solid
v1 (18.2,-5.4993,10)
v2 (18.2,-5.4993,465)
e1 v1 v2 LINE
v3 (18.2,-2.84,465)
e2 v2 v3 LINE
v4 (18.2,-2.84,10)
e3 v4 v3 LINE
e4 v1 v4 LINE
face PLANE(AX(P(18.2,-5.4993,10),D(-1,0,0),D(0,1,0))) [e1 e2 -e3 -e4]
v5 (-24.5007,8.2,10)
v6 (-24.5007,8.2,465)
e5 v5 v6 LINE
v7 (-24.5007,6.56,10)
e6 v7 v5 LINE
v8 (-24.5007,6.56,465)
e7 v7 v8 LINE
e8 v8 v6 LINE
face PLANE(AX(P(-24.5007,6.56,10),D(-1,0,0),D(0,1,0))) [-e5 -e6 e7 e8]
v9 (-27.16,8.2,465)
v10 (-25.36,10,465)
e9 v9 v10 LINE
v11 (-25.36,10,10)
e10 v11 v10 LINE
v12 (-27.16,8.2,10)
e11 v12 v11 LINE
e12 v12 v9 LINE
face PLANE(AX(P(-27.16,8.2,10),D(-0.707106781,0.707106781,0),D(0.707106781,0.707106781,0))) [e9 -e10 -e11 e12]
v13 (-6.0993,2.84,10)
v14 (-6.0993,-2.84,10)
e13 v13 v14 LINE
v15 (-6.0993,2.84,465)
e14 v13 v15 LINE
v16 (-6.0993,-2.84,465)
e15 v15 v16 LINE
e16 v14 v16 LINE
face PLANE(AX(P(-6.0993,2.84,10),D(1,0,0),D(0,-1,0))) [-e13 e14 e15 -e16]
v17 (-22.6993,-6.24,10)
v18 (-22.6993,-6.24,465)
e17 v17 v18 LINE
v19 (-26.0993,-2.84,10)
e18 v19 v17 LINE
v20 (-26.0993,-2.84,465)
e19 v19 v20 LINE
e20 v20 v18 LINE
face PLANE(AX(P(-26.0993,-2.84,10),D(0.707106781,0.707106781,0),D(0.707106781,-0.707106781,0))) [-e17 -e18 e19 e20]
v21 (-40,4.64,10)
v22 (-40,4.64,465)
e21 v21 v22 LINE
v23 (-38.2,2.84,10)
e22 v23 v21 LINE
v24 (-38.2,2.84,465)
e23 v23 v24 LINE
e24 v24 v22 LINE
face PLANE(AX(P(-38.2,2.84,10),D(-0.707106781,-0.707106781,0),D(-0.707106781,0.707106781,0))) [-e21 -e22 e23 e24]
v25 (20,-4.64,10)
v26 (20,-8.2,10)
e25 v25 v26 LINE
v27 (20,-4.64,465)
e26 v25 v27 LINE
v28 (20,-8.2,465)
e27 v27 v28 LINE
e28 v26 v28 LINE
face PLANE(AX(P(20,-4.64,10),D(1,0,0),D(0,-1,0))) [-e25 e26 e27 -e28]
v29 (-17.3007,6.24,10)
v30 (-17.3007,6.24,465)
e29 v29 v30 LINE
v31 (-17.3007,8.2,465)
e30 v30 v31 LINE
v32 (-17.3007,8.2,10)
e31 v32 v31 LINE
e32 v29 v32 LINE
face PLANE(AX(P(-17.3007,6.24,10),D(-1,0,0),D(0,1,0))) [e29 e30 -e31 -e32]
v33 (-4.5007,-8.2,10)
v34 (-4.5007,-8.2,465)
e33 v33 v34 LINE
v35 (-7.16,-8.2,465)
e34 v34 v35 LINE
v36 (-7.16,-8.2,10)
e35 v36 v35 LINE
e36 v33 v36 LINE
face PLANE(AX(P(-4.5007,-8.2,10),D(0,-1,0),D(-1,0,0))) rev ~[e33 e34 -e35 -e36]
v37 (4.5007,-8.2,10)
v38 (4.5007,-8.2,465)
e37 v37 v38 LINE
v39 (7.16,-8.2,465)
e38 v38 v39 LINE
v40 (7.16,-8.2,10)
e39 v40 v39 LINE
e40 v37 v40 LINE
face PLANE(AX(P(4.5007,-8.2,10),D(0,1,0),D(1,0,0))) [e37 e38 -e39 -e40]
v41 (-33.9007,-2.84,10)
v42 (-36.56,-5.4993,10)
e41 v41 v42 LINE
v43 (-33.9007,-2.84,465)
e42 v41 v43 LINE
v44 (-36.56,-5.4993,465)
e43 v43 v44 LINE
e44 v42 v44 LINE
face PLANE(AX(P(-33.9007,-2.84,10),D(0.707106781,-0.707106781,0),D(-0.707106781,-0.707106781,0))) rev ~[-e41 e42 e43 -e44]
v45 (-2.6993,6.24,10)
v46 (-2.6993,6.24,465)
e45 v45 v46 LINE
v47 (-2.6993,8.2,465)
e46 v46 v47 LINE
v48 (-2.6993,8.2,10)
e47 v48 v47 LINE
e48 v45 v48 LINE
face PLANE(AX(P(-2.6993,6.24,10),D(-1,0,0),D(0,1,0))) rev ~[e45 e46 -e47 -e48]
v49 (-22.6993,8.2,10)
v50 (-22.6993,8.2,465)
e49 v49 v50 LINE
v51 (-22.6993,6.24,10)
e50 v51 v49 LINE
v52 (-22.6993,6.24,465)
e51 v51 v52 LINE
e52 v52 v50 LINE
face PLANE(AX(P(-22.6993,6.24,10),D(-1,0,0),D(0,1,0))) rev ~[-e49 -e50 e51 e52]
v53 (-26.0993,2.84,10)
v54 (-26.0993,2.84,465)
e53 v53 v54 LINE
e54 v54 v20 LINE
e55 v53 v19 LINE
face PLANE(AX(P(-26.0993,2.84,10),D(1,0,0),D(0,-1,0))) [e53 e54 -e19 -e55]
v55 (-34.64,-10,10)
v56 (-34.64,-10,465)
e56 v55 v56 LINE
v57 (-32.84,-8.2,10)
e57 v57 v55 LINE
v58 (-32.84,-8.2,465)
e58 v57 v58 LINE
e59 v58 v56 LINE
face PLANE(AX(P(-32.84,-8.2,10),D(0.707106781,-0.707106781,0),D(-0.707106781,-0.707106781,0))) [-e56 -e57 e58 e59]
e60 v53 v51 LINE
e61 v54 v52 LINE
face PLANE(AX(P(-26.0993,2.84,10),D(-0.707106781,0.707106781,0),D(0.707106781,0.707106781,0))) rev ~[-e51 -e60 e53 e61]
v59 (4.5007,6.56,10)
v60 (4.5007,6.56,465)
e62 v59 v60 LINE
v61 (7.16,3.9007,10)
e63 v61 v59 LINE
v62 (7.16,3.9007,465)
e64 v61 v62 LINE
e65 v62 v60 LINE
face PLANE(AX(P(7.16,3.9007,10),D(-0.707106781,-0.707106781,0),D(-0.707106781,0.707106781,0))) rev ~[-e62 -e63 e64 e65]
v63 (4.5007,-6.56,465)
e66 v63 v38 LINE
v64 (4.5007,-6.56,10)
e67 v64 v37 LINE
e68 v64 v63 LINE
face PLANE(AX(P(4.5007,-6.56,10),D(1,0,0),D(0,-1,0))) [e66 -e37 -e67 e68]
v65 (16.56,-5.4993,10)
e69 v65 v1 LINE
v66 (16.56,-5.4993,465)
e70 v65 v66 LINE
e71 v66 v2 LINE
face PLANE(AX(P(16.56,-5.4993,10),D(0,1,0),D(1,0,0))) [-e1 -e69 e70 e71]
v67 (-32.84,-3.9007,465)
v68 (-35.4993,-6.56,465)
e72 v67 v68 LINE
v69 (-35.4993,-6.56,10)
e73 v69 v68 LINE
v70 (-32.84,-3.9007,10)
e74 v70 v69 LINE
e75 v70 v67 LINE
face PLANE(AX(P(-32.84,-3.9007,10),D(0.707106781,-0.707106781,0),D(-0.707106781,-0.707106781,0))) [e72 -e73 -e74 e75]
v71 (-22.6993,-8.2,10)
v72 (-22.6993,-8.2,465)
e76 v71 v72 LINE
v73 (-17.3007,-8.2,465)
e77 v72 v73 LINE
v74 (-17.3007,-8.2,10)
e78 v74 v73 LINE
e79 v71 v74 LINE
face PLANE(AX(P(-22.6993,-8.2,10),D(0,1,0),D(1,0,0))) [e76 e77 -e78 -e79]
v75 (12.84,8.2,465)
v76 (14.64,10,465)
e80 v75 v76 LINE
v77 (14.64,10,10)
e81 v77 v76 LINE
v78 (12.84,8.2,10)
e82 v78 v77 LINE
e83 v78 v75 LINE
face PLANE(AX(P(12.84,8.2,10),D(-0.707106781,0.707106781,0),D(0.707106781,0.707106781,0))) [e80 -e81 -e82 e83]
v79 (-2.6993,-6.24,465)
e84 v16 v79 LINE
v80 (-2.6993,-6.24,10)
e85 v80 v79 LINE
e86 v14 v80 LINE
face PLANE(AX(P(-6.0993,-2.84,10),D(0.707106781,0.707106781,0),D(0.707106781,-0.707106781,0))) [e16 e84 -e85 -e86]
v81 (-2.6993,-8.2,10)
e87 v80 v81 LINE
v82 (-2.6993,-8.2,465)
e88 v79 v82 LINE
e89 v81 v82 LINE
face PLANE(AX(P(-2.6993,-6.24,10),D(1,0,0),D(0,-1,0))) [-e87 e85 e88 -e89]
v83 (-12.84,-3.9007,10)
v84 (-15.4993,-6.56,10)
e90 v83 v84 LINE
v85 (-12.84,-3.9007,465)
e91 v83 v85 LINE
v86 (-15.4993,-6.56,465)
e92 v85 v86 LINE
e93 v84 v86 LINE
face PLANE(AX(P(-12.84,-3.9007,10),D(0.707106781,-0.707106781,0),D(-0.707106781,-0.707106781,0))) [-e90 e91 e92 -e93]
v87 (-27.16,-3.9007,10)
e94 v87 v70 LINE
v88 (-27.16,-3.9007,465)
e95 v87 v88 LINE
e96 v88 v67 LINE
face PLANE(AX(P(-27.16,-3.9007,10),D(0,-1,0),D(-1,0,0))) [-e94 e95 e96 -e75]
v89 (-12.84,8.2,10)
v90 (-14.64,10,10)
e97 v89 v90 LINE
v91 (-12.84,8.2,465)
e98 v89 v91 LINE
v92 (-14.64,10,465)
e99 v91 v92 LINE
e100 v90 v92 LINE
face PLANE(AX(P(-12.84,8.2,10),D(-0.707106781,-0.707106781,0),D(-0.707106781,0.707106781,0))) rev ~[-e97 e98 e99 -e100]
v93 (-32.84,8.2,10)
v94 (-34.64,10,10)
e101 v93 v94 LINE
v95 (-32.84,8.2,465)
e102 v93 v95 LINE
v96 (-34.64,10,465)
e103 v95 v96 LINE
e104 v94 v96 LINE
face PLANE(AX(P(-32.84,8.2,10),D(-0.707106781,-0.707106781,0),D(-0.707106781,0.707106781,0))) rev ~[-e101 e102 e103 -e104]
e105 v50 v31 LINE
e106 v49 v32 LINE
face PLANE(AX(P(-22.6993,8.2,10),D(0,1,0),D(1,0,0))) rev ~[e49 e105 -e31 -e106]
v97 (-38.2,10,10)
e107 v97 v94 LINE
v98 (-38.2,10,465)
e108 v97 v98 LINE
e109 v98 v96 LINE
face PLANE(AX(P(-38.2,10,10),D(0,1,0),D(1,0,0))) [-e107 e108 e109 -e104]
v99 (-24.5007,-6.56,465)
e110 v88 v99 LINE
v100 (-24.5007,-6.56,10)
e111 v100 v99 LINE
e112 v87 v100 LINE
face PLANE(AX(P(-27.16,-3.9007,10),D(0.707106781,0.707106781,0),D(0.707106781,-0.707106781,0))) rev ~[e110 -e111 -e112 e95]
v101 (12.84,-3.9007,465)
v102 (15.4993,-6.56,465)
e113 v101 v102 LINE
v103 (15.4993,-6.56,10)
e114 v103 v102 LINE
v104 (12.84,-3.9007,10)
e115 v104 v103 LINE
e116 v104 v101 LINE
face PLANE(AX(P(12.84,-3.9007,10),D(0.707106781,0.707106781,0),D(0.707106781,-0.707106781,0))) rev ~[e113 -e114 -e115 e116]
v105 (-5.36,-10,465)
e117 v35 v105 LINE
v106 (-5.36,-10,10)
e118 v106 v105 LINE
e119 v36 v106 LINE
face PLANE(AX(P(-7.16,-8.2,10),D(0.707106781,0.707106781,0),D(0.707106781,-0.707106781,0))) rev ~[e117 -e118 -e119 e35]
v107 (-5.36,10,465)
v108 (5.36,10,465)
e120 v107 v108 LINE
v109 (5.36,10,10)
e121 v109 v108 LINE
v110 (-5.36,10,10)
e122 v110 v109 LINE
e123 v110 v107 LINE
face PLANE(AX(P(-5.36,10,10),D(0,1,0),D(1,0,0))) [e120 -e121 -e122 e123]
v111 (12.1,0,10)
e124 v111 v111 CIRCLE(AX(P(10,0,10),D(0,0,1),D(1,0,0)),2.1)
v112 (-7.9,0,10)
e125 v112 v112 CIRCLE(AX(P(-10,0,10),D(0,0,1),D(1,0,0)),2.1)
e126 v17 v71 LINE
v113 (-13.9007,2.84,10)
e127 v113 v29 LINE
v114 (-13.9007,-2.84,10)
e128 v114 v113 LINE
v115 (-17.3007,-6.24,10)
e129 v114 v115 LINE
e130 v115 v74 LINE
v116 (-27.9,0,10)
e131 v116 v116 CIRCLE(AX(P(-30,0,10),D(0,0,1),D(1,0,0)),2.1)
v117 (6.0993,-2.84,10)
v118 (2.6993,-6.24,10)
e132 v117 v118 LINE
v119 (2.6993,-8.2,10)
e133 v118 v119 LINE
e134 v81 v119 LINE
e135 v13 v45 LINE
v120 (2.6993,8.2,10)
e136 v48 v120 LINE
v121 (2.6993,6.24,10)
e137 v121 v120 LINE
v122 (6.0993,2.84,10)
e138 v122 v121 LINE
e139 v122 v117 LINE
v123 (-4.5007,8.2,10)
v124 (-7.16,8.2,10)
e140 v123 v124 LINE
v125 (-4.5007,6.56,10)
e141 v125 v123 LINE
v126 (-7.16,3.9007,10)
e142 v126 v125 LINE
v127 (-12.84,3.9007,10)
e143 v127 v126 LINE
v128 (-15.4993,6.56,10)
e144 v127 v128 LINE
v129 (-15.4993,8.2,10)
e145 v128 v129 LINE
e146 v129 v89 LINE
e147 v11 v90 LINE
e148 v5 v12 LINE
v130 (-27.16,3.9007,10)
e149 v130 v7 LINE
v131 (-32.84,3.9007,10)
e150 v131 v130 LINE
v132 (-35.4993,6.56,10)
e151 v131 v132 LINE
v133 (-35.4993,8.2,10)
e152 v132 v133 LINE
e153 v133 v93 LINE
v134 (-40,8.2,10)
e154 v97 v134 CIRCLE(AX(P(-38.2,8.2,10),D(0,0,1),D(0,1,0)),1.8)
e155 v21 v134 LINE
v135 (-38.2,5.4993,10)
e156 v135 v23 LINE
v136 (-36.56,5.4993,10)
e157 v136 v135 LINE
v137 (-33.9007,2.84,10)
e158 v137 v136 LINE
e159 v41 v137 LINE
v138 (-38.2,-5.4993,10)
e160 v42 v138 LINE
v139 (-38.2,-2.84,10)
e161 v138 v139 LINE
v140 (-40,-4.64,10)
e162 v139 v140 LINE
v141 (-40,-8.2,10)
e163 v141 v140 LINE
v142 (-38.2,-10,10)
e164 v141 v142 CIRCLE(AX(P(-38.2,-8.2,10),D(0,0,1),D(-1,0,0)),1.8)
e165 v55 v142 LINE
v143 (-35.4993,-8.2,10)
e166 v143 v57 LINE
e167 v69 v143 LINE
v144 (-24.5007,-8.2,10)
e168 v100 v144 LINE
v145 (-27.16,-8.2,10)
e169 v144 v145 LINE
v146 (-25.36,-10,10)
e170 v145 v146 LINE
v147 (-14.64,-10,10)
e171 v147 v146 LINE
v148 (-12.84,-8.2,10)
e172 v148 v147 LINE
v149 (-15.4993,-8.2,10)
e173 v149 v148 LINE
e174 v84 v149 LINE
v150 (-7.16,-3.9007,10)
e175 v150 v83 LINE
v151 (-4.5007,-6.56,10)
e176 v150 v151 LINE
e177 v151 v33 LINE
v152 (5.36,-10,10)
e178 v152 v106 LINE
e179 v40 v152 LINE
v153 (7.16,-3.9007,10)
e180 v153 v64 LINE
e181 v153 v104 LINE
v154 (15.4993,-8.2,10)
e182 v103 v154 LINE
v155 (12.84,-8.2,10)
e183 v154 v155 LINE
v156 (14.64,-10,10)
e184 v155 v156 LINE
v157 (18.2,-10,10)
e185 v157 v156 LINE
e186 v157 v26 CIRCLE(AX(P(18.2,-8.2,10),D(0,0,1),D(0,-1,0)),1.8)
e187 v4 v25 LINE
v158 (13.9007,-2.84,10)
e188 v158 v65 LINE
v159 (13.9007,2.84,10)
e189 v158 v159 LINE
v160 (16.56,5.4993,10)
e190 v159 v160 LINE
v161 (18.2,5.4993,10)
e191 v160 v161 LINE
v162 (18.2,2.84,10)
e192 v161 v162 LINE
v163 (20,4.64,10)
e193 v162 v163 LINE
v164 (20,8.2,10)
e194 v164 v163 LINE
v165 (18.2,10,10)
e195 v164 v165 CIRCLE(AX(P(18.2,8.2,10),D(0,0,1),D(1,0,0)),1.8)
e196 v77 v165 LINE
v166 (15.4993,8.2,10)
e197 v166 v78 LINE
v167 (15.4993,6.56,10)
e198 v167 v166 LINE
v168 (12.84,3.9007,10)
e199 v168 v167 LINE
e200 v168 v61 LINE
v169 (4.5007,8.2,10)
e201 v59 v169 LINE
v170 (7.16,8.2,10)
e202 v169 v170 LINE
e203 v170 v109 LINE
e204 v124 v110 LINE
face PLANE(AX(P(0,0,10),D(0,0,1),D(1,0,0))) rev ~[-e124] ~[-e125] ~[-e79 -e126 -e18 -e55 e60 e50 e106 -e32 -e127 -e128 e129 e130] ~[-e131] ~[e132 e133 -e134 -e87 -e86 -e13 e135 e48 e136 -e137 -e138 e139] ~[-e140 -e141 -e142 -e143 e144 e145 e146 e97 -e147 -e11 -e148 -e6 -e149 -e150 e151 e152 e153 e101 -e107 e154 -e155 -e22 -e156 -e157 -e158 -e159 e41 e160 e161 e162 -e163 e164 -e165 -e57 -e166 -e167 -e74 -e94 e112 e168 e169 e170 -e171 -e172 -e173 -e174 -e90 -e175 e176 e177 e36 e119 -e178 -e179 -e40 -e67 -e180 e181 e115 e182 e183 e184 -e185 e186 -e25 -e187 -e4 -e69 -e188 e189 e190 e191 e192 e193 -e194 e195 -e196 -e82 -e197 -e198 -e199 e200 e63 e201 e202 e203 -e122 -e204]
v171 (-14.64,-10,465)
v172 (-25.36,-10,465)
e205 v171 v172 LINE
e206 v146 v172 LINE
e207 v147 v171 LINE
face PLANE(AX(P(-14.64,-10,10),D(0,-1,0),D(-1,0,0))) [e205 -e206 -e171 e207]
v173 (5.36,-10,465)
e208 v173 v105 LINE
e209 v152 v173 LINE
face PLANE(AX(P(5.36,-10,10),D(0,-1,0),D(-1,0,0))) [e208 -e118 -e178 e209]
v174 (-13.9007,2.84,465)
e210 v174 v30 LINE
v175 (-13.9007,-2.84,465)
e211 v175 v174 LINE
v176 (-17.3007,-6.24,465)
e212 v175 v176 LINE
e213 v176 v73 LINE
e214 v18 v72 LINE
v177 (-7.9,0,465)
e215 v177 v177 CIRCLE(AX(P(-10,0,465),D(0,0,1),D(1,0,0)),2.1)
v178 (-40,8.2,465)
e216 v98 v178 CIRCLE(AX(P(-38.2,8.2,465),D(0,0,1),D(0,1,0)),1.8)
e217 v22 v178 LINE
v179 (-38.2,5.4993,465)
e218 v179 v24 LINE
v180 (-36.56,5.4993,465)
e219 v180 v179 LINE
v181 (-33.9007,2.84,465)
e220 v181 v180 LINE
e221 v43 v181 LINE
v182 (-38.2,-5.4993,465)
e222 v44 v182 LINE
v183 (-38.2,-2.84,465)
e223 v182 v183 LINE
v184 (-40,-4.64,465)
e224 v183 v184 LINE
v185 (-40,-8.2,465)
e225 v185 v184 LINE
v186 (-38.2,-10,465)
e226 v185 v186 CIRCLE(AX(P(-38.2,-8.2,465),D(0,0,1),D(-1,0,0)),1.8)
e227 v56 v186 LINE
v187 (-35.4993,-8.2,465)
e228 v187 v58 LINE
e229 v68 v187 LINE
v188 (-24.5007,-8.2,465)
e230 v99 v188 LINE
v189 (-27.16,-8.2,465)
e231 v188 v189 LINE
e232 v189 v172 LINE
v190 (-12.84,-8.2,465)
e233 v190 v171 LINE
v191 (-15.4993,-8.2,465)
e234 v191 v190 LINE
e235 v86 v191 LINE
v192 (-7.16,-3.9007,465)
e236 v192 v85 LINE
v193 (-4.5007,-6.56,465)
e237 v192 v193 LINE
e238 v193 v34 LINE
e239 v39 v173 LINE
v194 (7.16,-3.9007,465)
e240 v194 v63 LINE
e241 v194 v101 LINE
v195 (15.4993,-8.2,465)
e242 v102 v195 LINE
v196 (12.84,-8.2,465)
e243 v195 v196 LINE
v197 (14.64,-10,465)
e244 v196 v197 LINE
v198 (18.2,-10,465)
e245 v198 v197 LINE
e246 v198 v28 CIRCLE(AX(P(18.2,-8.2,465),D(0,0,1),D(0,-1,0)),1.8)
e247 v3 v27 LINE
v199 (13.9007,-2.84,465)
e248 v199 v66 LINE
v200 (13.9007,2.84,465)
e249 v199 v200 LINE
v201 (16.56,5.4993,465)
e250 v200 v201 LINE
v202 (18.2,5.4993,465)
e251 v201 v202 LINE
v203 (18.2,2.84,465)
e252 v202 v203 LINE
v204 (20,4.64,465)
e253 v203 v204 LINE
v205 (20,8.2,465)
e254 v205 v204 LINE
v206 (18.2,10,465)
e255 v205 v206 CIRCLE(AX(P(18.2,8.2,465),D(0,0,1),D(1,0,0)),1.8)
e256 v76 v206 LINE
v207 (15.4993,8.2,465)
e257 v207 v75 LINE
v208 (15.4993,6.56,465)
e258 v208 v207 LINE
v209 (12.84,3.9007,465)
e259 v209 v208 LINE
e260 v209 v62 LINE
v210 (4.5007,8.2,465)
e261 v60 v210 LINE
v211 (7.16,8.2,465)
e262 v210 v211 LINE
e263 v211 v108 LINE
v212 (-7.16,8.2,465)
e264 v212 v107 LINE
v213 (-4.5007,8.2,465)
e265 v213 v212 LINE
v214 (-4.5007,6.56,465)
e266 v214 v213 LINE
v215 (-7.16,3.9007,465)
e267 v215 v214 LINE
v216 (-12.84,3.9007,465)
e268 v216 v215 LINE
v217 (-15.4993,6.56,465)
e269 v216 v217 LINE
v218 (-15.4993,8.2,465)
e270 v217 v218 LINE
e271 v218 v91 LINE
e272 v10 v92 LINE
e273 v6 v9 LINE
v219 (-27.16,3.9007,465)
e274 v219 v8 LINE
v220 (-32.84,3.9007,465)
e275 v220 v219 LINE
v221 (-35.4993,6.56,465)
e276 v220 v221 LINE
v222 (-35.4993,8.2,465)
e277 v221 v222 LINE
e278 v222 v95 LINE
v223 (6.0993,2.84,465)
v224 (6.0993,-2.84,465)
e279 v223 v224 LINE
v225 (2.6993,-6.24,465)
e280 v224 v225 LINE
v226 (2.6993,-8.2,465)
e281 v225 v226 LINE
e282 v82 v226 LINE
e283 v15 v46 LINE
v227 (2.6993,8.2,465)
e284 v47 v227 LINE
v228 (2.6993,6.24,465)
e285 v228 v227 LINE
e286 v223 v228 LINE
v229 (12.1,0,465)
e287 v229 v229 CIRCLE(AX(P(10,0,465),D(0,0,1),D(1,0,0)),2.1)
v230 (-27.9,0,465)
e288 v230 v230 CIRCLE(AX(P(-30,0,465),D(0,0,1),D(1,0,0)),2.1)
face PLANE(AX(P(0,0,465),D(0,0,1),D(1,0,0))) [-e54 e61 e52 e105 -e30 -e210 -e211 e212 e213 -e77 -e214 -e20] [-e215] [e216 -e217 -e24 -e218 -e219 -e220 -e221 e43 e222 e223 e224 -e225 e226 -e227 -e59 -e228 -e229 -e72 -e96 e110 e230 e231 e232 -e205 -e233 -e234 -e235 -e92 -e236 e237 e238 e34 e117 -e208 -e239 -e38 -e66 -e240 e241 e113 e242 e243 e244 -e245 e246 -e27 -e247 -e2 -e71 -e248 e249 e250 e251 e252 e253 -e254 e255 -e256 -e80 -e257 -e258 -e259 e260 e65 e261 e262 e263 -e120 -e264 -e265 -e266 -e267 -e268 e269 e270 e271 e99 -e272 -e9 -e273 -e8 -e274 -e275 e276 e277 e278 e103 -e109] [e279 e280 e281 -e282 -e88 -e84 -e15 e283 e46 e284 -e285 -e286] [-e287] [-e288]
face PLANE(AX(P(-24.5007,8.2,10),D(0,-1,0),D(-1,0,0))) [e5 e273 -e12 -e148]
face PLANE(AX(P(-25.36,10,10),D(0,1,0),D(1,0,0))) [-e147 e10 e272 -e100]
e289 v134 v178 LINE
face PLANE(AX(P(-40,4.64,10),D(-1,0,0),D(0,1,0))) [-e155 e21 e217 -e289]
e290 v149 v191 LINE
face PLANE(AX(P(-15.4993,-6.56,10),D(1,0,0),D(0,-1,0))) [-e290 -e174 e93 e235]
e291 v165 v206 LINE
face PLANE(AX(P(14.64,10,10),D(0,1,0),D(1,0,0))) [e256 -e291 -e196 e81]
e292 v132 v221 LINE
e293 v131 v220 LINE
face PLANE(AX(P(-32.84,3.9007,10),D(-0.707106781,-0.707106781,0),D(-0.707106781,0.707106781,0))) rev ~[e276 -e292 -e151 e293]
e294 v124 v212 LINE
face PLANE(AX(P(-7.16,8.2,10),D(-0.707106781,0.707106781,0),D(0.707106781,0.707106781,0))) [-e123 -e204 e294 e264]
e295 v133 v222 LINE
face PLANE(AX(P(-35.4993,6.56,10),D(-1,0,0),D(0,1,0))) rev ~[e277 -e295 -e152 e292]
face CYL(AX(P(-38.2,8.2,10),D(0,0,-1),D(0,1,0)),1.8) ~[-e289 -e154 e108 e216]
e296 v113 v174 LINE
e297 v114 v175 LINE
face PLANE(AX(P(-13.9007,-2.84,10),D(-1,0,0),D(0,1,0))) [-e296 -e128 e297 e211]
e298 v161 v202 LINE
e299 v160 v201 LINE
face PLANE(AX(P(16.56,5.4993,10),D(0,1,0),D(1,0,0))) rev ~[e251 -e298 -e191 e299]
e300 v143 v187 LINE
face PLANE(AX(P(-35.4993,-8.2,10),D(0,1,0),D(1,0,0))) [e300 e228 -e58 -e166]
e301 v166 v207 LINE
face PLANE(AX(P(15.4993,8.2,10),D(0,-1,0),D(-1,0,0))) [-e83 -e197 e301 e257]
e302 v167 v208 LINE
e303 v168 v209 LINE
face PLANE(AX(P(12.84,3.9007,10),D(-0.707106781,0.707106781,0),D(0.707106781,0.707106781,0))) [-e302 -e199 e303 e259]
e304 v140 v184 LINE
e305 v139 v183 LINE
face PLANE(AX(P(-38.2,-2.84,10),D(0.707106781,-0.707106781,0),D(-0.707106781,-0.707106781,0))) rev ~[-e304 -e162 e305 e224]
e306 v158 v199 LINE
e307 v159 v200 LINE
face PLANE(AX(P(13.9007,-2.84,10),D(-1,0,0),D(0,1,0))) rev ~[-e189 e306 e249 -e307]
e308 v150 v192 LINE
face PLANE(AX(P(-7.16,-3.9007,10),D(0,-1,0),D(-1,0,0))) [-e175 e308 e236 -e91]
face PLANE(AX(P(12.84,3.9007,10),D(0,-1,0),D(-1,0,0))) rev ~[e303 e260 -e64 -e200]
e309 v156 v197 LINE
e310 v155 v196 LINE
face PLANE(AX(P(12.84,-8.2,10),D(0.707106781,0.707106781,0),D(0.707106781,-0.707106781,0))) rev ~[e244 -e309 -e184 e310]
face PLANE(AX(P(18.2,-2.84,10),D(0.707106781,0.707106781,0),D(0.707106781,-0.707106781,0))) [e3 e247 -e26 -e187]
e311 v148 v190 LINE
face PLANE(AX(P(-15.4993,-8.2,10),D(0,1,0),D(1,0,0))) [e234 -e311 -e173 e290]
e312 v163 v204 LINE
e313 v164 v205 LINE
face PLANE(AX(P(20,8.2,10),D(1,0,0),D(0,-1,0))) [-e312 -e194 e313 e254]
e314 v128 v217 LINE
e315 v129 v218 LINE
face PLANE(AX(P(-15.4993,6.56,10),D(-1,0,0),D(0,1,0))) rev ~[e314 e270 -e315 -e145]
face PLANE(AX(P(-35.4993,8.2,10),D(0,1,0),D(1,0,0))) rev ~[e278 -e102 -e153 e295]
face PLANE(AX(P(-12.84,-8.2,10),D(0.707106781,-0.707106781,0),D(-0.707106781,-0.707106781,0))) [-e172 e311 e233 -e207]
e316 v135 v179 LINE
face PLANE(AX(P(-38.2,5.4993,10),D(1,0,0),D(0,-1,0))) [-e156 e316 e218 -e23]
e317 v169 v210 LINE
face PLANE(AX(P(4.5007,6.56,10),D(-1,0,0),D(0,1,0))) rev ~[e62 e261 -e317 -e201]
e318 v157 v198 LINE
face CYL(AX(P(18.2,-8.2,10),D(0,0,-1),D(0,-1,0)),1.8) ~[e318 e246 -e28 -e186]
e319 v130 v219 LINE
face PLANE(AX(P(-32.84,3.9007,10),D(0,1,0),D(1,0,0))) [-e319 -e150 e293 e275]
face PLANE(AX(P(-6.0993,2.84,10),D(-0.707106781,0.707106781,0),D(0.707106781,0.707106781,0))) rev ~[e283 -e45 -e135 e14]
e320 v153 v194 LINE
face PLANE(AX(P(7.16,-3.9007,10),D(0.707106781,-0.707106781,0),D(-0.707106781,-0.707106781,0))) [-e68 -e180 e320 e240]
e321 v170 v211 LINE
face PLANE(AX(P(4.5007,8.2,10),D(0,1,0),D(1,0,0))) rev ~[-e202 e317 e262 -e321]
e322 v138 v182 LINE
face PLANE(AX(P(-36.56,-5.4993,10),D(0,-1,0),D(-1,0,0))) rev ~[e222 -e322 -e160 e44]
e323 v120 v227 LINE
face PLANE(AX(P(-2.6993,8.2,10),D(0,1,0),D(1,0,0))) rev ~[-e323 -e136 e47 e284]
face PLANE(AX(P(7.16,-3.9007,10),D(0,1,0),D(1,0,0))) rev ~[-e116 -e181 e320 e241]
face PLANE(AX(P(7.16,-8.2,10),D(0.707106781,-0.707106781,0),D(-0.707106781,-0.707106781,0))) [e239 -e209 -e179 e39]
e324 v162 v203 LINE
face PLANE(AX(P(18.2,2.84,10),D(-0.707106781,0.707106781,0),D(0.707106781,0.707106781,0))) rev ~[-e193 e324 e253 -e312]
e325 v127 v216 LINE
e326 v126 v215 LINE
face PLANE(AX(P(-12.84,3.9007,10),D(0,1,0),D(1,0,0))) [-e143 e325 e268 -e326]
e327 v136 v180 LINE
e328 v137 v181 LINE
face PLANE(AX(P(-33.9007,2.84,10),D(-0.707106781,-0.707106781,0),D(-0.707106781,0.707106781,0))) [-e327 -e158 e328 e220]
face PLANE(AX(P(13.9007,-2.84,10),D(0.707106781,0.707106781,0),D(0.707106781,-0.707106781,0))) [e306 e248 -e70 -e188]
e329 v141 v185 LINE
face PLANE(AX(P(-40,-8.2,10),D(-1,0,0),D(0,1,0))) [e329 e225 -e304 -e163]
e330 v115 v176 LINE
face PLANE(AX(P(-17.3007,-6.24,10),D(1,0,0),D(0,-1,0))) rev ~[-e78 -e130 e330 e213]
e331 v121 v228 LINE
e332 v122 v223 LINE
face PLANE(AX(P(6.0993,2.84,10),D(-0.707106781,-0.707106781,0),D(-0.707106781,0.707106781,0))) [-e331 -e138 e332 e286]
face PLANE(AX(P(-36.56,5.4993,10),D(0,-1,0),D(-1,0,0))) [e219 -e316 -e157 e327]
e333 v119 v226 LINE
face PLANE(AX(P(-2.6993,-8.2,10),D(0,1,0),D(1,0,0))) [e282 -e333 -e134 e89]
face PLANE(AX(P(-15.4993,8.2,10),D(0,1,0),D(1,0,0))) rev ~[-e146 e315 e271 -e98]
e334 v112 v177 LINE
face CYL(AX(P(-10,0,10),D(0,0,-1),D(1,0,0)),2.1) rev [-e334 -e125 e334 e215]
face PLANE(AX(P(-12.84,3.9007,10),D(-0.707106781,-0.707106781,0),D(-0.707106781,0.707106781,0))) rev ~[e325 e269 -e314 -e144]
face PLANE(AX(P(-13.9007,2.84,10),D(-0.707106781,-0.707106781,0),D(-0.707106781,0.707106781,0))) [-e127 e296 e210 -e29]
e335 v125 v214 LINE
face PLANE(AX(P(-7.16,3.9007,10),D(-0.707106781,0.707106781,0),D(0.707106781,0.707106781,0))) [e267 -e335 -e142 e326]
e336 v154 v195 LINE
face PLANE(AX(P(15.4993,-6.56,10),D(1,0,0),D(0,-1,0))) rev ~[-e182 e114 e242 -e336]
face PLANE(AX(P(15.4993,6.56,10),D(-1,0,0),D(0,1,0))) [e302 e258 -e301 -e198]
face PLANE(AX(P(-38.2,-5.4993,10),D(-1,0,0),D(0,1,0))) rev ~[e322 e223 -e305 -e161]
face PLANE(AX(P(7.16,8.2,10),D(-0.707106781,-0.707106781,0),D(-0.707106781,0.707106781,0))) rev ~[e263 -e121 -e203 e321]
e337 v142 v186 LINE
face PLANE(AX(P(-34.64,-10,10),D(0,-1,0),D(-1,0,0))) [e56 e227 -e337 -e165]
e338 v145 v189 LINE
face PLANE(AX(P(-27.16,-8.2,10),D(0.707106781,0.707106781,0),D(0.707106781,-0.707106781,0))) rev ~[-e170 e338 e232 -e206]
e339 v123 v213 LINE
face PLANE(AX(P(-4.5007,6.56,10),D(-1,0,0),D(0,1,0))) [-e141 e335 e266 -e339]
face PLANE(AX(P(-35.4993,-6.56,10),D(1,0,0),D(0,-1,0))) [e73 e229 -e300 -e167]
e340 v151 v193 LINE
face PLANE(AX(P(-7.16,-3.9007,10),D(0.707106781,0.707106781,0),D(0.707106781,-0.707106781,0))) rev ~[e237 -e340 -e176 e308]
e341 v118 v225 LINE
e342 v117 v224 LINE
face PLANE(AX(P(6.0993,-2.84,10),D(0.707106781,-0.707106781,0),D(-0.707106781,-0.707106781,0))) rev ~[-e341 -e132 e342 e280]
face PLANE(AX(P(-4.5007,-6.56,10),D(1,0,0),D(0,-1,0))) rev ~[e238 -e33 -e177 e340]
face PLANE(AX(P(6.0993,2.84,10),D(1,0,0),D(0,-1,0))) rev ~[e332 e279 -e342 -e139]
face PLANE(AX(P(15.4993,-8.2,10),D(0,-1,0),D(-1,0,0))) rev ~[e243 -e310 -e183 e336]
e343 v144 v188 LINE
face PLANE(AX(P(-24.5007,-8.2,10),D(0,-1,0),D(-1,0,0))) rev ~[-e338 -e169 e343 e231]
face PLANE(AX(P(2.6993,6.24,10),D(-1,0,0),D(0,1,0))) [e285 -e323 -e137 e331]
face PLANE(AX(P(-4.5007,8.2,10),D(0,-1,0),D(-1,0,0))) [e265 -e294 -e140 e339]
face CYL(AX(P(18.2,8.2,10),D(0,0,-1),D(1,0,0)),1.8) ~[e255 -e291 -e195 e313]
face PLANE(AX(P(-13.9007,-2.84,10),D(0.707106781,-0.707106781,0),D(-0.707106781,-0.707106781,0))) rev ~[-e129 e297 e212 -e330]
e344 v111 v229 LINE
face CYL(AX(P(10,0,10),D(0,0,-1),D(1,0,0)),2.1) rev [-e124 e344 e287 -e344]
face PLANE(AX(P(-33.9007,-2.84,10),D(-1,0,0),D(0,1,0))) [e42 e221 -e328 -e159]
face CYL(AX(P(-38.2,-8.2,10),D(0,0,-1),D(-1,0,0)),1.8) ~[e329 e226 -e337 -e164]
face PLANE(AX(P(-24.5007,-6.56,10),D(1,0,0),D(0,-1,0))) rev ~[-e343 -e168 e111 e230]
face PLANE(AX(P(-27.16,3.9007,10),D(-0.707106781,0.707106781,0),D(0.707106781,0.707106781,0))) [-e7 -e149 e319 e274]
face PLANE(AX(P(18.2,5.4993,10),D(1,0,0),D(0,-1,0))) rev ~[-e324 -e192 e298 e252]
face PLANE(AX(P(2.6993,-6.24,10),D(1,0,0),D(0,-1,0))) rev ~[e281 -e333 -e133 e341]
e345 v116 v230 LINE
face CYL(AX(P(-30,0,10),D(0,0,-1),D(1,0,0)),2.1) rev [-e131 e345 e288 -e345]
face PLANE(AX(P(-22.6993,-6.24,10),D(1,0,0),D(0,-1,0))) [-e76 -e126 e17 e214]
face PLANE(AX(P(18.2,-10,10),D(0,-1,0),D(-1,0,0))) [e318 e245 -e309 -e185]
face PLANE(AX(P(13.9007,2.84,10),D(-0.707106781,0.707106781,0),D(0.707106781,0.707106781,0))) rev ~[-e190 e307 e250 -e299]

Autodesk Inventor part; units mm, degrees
ref_plane "Start Plane" through (0, 0, 10) normal (0, 0, 1) x (1, 0, 0)
ref_plane "End Plane" through (0, 0, 465) normal (0, 0, 1) x (1, 0, 0)
sketch "Sketch" plane through (0, 0, 0) normal (0, 0, 1) x (1, 0, 0)
  line L0 (0, 0) -> (0, 10) construction
  line L1 (0, 10) -> (-10, 10) construction
  line L2 (-10, 10) -> (-10, 0) construction
  line L3 (-10, 10) -> (-20, 10) construction
  line L4 (-20, 10) -> (-20, 0) construction
  circle A0 centre (-10, 0) radius 2.1
  line L5 (-13.9007, -3.9007) -> (-6.0993, -3.9007) construction
  line L6 (-6.0993, -3.9007) -> (-6.0993, 3.9007) construction
  line L7 (-6.0993, 3.9007) -> (-13.9007, 3.9007) construction
  line L8 (-13.9007, 3.9007) -> (-13.9007, -3.9007) construction
  line L9 (-13.9007, -3.9007) -> (-6.0993, 3.9007) construction
  line L10 (-6.0993, -3.9007) -> (-13.9007, 3.9007) construction
  line L11 (-13.9007, -2.84) -> (-12.84, -3.9007) construction
  line L12 (-13.9007, -2.84) -> (-12.4007, -2.84) construction
  line L13 (0, 0) -> (-10, 0) construction
  line L14 (-12.84, -3.9007) -> (-15.4993, -6.56)
  line L15 (-15.4993, -6.56) -> (-15.4993, -8.2)
  line L16 (-15.4993, -8.2) -> (-12.84, -8.2)
  line L17 (-12.84, -8.2) -> (-14.64, -10)
  line L18 (-7.16, -3.9007) -> (-4.5007, -6.56)
  line L19 (-4.5007, -6.56) -> (-4.5007, -8.2)
  line L20 (-4.5007, -8.2) -> (-7.16, -8.2)
  line L21 (-7.16, -8.2) -> (-5.36, -10)
  line L22 (-12.84, 3.9007) -> (-15.4993, 6.56)
  line L23 (-15.4993, 6.56) -> (-15.4993, 8.2)
  line L24 (-15.4993, 8.2) -> (-12.84, 8.2)
  line L25 (-12.84, 8.2) -> (-14.64, 10)
  line L26 (-7.16, 3.9007) -> (-4.5007, 6.56)
  line L27 (-4.5007, 6.56) -> (-4.5007, 8.2)
  line L28 (-4.5007, 8.2) -> (-7.16, 8.2)
  line L29 (-7.16, 8.2) -> (-5.36, 10)
  line L30 (-20, -8.2) -> (-15.4993, -8.2) construction
  line L31 (-13.9007, -2.84) -> (-17.3007, -6.24)
  line L32 (-17.3007, -6.24) -> (-17.3007, -8.2)
  line L33 (-13.9007, 2.84) -> (-17.3007, 6.24)
  line L34 (-17.3007, 6.24) -> (-17.3007, 8.2)
  line L35 (-6.0993, -2.84) -> (-2.6993, -6.24)
  line L36 (-2.6993, -6.24) -> (-2.6993, -8.2)
  line L37 (-2.6993, 6.24) -> (-2.6993, 8.2)
  line L38 (-6.0993, 2.84) -> (-2.6993, 6.24)
  line L39 (-30, 10) -> (-30, 0) construction
  line L40 (-30, 10) -> (-20, 10) construction
  circle A1 centre (-30, 0) radius 2.1
  line L41 (-26.0993, -3.9007) -> (-33.9007, -3.9007) construction
  line L42 (-33.9007, -3.9007) -> (-33.9007, 3.9007) construction
  line L43 (-33.9007, 3.9007) -> (-26.0993, 3.9007) construction
  line L44 (-26.0993, 3.9007) -> (-26.0993, -3.9007) construction
  line L45 (-26.0993, -3.9007) -> (-33.9007, 3.9007) construction
  line L46 (-33.9007, -3.9007) -> (-26.0993, 3.9007) construction
  line L47 (-26.0993, -2.84) -> (-27.16, -3.9007) construction
  line L48 (-26.0993, -2.84) -> (-27.5993, -2.84) construction
  line L49 (-27.16, -3.9007) -> (-24.5007, -6.56)
  line L50 (-24.5007, -6.56) -> (-24.5007, -8.2)
  line L51 (-24.5007, -8.2) -> (-27.16, -8.2)
  line L52 (-27.16, -8.2) -> (-25.36, -10)
  line L53 (-32.84, -3.9007) -> (-35.4993, -6.56)
  line L54 (-35.4993, -6.56) -> (-35.4993, -8.2)
  line L55 (-35.4993, -8.2) -> (-32.84, -8.2)
  line L56 (-32.84, -8.2) -> (-34.64, -10)
  line L57 (-27.16, 3.9007) -> (-24.5007, 6.56)
  line L58 (-24.5007, 6.56) -> (-24.5007, 8.2)
  line L59 (-24.5007, 8.2) -> (-27.16, 8.2)
  line L60 (-27.16, 8.2) -> (-25.36, 10)
  line L61 (-32.84, 8.2) -> (-34.64, 10)
  line L62 (-35.4993, 8.2) -> (-32.84, 8.2)
  line L63 (-35.4993, 6.56) -> (-35.4993, 8.2)
  line L64 (-32.84, 3.9007) -> (-35.4993, 6.56)
  line L65 (-20, -8.2) -> (-24.5007, -8.2) construction
  line L66 (-26.0993, -2.84) -> (-22.6993, -6.24)
  line L67 (-22.6993, -6.24) -> (-22.6993, -8.2)
  line L68 (-22.6993, 6.24) -> (-22.6993, 8.2)
  line L69 (-26.0993, 2.84) -> (-22.6993, 6.24)
  line L70 (10, 10) -> (10, 0) construction
  circle A2 centre (10, 0) radius 2.1
  line L71 (13.9007, -3.9007) -> (6.0993, -3.9007) construction
  line L72 (6.0993, -3.9007) -> (6.0993, 3.9007) construction
  line L73 (6.0993, 3.9007) -> (13.9007, 3.9007) construction
  line L74 (13.9007, 3.9007) -> (13.9007, -3.9007) construction
  line L75 (13.9007, -3.9007) -> (6.0993, 3.9007) construction
  line L76 (6.0993, -3.9007) -> (13.9007, 3.9007) construction
  line L77 (13.9007, -2.84) -> (12.84, -3.9007) construction
  line L78 (13.9007, -2.84) -> (12.4007, -2.84) construction
  line L79 (12.84, -3.9007) -> (15.4993, -6.56)
  line L80 (15.4993, -6.56) -> (15.4993, -8.2)
  line L81 (15.4993, -8.2) -> (12.84, -8.2)
  line L82 (12.84, -8.2) -> (14.64, -10)
  line L83 (7.16, -3.9007) -> (4.5007, -6.56)
  line L84 (4.5007, -6.56) -> (4.5007, -8.2)
  line L85 (4.5007, -8.2) -> (7.16, -8.2)
  line L86 (7.16, -8.2) -> (5.36, -10)
  line L87 (12.84, 3.9007) -> (15.4993, 6.56)
  line L88 (15.4993, 6.56) -> (15.4993, 8.2)
  line L89 (15.4993, 8.2) -> (12.84, 8.2)
  line L90 (12.84, 8.2) -> (14.64, 10)
  line L91 (7.16, 8.2) -> (5.36, 10)
  line L92 (4.5007, 8.2) -> (7.16, 8.2)
  line L93 (4.5007, 6.56) -> (4.5007, 8.2)
  line L94 (7.16, 3.9007) -> (4.5007, 6.56)
  line L95 (2.6993, 6.24) -> (2.6993, 8.2)
  line L96 (6.0993, 2.84) -> (2.6993, 6.24)
  line L97 (6.0993, -2.84) -> (2.6993, -6.24)
  line L98 (2.6993, -6.24) -> (2.6993, -8.2)
  line L99 (-33.9007, -2.84) -> (-36.56, -5.4993)
  line L100 (-38.2, -5.4993) -> (-38.2, -2.84)
  line L101 (-38.2, -2.84) -> (-40, -4.64)
  line L102 (-36.56, -5.4993) -> (-38.2, -5.4993)
  line L103 (-32.84, 3.9007) -> (-35.4993, 6.56)
  line L104 (-35.4993, 8.2) -> (-32.84, 8.2)
  line L105 (-32.84, 8.2) -> (-34.64, 10)
  line L106 (-35.4993, 6.56) -> (-35.4993, 8.2)
  line L107 (-38.2, 2.84) -> (-40, 4.64)
  line L108 (-38.2, 5.4993) -> (-38.2, 2.84)
  line L109 (-36.56, 5.4993) -> (-38.2, 5.4993)
  line L110 (-33.9007, 2.84) -> (-36.56, 5.4993)
  line L111 (18.2, -2.84) -> (20, -4.64)
  line L112 (18.2, -5.4993) -> (18.2, -2.84)
  line L113 (16.56, -5.4993) -> (18.2, -5.4993)
  line L114 (13.9007, -2.84) -> (16.56, -5.4993)
  line L115 (18.2, 2.84) -> (20, 4.64)
  line L116 (18.2, 5.4993) -> (18.2, 2.84)
  line L117 (16.56, 5.4993) -> (18.2, 5.4993)
  line L118 (13.9007, 2.84) -> (16.56, 5.4993)
  line L119 (-25.36, 10) -> (-14.64, 10)
  line L120 (-5.36, 10) -> (5.36, 10)
  line L121 (5.36, -10) -> (-5.36, -10)
  line L122 (-14.64, -10) -> (-25.36, -10)
  line L123 (-2.6993, 8.2) -> (2.6993, 8.2)
  line L124 (-2.6993, -8.2) -> (2.6993, -8.2)
  line L125 (6.0993, 2.84) -> (6.0993, -2.84)
  line L126 (7.16, -3.9007) -> (12.84, -3.9007)
  line L127 (13.9007, -2.84) -> (13.9007, 2.84)
  line L128 (12.84, 3.9007) -> (7.16, 3.9007)
  line L129 (-6.0993, 2.84) -> (-6.0993, -2.84)
  line L130 (-7.16, -3.9007) -> (-12.84, -3.9007)
  line L131 (-13.9007, -2.84) -> (-13.9007, 2.84)
  line L132 (-12.84, 3.9007) -> (-7.16, 3.9007)
  line L133 (-22.6993, -8.2) -> (-17.3007, -8.2)
  line L134 (-22.6993, 8.2) -> (-17.3007, 8.2)
  line L135 (-26.0993, 2.84) -> (-26.0993, -2.84)
  line L136 (-27.16, -3.9007) -> (-32.84, -3.9007)
  line L137 (-33.9007, -2.84) -> (-33.9007, 2.84)
  line L138 (-32.84, 3.9007) -> (-27.16, 3.9007)
  line L139 (-34.64, -10) -> (-38.2, -10)
  line L140 (-40, -8.2) -> (-40, -4.64)
  line L141 (-40, 4.64) -> (-40, 8.2)
  line L142 (-38.2, 10) -> (-34.64, 10)
  line L143 (14.64, 10) -> (18.2, 10)
  line L144 (20, 8.2) -> (20, 4.64)
  line L145 (20, -4.64) -> (20, -8.2)
  line L146 (18.2, -10) -> (14.64, -10)
  arc A3 (-38.2, 10) -> (-40, 8.2) centre (-38.2, 8.2) ccw
  arc A4 (-40, -8.2) -> (-38.2, -10) centre (-38.2, -8.2) ccw
  arc A5 (18.2, -10) -> (20, -8.2) centre (18.2, -8.2) ccw
  arc A6 (20, 8.2) -> (18.2, 10) centre (18.2, 8.2) ccw
  dimension "d0" = 10
  dimension "d1" = 10
  dimension "d2" = 10
  dimension "d3" = 4.2
  dimension "d4" = 1.5
  dimension "d5" = 45
  dimension "d6" = 1.64
  dimension "d7" = 1.8
  dimension "d8" = 10
  dimension "d9" = 2.84
  dimension "d11" = 135
  dimension "d12" = 1.96
  dimension "d13" = 5.68
  dimension "d14" = 1.8
extrude "Body" add sketch "Sketch" along normal up to surface (455 mm away) from surface at 10
sketch "Sketch4" plane through (0, 0, 0) normal (0, 0, 1) x (1, 0, 0)
  line L0 (0, 0) -> (10, 0)
ref_plane "Work Plane4" through (0, 0, 0) normal (0, -1, 0) x (1, 0, 0)
sketch "Sketch5" plane through (0, 0, 0) normal (0, -1, 0) x (1, 0, 0)
  line L0 (-2, 10) -> (12, 10)
  line L1 (-2, 465) -> (12, 465)
  dimension "d22" = 455
ref_plane "Work Plane5" through (235, -4.5951, 465) normal (0, 0, 1) x (1, 0, 0)
split "Split1" plane through (235, -4.5951, 465) removes the side toward (0, 0, 1)
ref_plane "Work Plane6" through (-40, -4.5951, 10) normal (0, 0, -1) x (-1, 0, 0)
split "Split2" plane through (-40, -4.5951, 10) removes the side toward (0, 0, -1)
equation "\"d18\" = Length + G_OFFSET_END"
equation "\"G_L\" = d22"
equation "\"Length\" = 475"
equation "\"G_OFFSET_END\" = -10"
properties part number "vslot 20 x 60" material "Aluminum 6061"
